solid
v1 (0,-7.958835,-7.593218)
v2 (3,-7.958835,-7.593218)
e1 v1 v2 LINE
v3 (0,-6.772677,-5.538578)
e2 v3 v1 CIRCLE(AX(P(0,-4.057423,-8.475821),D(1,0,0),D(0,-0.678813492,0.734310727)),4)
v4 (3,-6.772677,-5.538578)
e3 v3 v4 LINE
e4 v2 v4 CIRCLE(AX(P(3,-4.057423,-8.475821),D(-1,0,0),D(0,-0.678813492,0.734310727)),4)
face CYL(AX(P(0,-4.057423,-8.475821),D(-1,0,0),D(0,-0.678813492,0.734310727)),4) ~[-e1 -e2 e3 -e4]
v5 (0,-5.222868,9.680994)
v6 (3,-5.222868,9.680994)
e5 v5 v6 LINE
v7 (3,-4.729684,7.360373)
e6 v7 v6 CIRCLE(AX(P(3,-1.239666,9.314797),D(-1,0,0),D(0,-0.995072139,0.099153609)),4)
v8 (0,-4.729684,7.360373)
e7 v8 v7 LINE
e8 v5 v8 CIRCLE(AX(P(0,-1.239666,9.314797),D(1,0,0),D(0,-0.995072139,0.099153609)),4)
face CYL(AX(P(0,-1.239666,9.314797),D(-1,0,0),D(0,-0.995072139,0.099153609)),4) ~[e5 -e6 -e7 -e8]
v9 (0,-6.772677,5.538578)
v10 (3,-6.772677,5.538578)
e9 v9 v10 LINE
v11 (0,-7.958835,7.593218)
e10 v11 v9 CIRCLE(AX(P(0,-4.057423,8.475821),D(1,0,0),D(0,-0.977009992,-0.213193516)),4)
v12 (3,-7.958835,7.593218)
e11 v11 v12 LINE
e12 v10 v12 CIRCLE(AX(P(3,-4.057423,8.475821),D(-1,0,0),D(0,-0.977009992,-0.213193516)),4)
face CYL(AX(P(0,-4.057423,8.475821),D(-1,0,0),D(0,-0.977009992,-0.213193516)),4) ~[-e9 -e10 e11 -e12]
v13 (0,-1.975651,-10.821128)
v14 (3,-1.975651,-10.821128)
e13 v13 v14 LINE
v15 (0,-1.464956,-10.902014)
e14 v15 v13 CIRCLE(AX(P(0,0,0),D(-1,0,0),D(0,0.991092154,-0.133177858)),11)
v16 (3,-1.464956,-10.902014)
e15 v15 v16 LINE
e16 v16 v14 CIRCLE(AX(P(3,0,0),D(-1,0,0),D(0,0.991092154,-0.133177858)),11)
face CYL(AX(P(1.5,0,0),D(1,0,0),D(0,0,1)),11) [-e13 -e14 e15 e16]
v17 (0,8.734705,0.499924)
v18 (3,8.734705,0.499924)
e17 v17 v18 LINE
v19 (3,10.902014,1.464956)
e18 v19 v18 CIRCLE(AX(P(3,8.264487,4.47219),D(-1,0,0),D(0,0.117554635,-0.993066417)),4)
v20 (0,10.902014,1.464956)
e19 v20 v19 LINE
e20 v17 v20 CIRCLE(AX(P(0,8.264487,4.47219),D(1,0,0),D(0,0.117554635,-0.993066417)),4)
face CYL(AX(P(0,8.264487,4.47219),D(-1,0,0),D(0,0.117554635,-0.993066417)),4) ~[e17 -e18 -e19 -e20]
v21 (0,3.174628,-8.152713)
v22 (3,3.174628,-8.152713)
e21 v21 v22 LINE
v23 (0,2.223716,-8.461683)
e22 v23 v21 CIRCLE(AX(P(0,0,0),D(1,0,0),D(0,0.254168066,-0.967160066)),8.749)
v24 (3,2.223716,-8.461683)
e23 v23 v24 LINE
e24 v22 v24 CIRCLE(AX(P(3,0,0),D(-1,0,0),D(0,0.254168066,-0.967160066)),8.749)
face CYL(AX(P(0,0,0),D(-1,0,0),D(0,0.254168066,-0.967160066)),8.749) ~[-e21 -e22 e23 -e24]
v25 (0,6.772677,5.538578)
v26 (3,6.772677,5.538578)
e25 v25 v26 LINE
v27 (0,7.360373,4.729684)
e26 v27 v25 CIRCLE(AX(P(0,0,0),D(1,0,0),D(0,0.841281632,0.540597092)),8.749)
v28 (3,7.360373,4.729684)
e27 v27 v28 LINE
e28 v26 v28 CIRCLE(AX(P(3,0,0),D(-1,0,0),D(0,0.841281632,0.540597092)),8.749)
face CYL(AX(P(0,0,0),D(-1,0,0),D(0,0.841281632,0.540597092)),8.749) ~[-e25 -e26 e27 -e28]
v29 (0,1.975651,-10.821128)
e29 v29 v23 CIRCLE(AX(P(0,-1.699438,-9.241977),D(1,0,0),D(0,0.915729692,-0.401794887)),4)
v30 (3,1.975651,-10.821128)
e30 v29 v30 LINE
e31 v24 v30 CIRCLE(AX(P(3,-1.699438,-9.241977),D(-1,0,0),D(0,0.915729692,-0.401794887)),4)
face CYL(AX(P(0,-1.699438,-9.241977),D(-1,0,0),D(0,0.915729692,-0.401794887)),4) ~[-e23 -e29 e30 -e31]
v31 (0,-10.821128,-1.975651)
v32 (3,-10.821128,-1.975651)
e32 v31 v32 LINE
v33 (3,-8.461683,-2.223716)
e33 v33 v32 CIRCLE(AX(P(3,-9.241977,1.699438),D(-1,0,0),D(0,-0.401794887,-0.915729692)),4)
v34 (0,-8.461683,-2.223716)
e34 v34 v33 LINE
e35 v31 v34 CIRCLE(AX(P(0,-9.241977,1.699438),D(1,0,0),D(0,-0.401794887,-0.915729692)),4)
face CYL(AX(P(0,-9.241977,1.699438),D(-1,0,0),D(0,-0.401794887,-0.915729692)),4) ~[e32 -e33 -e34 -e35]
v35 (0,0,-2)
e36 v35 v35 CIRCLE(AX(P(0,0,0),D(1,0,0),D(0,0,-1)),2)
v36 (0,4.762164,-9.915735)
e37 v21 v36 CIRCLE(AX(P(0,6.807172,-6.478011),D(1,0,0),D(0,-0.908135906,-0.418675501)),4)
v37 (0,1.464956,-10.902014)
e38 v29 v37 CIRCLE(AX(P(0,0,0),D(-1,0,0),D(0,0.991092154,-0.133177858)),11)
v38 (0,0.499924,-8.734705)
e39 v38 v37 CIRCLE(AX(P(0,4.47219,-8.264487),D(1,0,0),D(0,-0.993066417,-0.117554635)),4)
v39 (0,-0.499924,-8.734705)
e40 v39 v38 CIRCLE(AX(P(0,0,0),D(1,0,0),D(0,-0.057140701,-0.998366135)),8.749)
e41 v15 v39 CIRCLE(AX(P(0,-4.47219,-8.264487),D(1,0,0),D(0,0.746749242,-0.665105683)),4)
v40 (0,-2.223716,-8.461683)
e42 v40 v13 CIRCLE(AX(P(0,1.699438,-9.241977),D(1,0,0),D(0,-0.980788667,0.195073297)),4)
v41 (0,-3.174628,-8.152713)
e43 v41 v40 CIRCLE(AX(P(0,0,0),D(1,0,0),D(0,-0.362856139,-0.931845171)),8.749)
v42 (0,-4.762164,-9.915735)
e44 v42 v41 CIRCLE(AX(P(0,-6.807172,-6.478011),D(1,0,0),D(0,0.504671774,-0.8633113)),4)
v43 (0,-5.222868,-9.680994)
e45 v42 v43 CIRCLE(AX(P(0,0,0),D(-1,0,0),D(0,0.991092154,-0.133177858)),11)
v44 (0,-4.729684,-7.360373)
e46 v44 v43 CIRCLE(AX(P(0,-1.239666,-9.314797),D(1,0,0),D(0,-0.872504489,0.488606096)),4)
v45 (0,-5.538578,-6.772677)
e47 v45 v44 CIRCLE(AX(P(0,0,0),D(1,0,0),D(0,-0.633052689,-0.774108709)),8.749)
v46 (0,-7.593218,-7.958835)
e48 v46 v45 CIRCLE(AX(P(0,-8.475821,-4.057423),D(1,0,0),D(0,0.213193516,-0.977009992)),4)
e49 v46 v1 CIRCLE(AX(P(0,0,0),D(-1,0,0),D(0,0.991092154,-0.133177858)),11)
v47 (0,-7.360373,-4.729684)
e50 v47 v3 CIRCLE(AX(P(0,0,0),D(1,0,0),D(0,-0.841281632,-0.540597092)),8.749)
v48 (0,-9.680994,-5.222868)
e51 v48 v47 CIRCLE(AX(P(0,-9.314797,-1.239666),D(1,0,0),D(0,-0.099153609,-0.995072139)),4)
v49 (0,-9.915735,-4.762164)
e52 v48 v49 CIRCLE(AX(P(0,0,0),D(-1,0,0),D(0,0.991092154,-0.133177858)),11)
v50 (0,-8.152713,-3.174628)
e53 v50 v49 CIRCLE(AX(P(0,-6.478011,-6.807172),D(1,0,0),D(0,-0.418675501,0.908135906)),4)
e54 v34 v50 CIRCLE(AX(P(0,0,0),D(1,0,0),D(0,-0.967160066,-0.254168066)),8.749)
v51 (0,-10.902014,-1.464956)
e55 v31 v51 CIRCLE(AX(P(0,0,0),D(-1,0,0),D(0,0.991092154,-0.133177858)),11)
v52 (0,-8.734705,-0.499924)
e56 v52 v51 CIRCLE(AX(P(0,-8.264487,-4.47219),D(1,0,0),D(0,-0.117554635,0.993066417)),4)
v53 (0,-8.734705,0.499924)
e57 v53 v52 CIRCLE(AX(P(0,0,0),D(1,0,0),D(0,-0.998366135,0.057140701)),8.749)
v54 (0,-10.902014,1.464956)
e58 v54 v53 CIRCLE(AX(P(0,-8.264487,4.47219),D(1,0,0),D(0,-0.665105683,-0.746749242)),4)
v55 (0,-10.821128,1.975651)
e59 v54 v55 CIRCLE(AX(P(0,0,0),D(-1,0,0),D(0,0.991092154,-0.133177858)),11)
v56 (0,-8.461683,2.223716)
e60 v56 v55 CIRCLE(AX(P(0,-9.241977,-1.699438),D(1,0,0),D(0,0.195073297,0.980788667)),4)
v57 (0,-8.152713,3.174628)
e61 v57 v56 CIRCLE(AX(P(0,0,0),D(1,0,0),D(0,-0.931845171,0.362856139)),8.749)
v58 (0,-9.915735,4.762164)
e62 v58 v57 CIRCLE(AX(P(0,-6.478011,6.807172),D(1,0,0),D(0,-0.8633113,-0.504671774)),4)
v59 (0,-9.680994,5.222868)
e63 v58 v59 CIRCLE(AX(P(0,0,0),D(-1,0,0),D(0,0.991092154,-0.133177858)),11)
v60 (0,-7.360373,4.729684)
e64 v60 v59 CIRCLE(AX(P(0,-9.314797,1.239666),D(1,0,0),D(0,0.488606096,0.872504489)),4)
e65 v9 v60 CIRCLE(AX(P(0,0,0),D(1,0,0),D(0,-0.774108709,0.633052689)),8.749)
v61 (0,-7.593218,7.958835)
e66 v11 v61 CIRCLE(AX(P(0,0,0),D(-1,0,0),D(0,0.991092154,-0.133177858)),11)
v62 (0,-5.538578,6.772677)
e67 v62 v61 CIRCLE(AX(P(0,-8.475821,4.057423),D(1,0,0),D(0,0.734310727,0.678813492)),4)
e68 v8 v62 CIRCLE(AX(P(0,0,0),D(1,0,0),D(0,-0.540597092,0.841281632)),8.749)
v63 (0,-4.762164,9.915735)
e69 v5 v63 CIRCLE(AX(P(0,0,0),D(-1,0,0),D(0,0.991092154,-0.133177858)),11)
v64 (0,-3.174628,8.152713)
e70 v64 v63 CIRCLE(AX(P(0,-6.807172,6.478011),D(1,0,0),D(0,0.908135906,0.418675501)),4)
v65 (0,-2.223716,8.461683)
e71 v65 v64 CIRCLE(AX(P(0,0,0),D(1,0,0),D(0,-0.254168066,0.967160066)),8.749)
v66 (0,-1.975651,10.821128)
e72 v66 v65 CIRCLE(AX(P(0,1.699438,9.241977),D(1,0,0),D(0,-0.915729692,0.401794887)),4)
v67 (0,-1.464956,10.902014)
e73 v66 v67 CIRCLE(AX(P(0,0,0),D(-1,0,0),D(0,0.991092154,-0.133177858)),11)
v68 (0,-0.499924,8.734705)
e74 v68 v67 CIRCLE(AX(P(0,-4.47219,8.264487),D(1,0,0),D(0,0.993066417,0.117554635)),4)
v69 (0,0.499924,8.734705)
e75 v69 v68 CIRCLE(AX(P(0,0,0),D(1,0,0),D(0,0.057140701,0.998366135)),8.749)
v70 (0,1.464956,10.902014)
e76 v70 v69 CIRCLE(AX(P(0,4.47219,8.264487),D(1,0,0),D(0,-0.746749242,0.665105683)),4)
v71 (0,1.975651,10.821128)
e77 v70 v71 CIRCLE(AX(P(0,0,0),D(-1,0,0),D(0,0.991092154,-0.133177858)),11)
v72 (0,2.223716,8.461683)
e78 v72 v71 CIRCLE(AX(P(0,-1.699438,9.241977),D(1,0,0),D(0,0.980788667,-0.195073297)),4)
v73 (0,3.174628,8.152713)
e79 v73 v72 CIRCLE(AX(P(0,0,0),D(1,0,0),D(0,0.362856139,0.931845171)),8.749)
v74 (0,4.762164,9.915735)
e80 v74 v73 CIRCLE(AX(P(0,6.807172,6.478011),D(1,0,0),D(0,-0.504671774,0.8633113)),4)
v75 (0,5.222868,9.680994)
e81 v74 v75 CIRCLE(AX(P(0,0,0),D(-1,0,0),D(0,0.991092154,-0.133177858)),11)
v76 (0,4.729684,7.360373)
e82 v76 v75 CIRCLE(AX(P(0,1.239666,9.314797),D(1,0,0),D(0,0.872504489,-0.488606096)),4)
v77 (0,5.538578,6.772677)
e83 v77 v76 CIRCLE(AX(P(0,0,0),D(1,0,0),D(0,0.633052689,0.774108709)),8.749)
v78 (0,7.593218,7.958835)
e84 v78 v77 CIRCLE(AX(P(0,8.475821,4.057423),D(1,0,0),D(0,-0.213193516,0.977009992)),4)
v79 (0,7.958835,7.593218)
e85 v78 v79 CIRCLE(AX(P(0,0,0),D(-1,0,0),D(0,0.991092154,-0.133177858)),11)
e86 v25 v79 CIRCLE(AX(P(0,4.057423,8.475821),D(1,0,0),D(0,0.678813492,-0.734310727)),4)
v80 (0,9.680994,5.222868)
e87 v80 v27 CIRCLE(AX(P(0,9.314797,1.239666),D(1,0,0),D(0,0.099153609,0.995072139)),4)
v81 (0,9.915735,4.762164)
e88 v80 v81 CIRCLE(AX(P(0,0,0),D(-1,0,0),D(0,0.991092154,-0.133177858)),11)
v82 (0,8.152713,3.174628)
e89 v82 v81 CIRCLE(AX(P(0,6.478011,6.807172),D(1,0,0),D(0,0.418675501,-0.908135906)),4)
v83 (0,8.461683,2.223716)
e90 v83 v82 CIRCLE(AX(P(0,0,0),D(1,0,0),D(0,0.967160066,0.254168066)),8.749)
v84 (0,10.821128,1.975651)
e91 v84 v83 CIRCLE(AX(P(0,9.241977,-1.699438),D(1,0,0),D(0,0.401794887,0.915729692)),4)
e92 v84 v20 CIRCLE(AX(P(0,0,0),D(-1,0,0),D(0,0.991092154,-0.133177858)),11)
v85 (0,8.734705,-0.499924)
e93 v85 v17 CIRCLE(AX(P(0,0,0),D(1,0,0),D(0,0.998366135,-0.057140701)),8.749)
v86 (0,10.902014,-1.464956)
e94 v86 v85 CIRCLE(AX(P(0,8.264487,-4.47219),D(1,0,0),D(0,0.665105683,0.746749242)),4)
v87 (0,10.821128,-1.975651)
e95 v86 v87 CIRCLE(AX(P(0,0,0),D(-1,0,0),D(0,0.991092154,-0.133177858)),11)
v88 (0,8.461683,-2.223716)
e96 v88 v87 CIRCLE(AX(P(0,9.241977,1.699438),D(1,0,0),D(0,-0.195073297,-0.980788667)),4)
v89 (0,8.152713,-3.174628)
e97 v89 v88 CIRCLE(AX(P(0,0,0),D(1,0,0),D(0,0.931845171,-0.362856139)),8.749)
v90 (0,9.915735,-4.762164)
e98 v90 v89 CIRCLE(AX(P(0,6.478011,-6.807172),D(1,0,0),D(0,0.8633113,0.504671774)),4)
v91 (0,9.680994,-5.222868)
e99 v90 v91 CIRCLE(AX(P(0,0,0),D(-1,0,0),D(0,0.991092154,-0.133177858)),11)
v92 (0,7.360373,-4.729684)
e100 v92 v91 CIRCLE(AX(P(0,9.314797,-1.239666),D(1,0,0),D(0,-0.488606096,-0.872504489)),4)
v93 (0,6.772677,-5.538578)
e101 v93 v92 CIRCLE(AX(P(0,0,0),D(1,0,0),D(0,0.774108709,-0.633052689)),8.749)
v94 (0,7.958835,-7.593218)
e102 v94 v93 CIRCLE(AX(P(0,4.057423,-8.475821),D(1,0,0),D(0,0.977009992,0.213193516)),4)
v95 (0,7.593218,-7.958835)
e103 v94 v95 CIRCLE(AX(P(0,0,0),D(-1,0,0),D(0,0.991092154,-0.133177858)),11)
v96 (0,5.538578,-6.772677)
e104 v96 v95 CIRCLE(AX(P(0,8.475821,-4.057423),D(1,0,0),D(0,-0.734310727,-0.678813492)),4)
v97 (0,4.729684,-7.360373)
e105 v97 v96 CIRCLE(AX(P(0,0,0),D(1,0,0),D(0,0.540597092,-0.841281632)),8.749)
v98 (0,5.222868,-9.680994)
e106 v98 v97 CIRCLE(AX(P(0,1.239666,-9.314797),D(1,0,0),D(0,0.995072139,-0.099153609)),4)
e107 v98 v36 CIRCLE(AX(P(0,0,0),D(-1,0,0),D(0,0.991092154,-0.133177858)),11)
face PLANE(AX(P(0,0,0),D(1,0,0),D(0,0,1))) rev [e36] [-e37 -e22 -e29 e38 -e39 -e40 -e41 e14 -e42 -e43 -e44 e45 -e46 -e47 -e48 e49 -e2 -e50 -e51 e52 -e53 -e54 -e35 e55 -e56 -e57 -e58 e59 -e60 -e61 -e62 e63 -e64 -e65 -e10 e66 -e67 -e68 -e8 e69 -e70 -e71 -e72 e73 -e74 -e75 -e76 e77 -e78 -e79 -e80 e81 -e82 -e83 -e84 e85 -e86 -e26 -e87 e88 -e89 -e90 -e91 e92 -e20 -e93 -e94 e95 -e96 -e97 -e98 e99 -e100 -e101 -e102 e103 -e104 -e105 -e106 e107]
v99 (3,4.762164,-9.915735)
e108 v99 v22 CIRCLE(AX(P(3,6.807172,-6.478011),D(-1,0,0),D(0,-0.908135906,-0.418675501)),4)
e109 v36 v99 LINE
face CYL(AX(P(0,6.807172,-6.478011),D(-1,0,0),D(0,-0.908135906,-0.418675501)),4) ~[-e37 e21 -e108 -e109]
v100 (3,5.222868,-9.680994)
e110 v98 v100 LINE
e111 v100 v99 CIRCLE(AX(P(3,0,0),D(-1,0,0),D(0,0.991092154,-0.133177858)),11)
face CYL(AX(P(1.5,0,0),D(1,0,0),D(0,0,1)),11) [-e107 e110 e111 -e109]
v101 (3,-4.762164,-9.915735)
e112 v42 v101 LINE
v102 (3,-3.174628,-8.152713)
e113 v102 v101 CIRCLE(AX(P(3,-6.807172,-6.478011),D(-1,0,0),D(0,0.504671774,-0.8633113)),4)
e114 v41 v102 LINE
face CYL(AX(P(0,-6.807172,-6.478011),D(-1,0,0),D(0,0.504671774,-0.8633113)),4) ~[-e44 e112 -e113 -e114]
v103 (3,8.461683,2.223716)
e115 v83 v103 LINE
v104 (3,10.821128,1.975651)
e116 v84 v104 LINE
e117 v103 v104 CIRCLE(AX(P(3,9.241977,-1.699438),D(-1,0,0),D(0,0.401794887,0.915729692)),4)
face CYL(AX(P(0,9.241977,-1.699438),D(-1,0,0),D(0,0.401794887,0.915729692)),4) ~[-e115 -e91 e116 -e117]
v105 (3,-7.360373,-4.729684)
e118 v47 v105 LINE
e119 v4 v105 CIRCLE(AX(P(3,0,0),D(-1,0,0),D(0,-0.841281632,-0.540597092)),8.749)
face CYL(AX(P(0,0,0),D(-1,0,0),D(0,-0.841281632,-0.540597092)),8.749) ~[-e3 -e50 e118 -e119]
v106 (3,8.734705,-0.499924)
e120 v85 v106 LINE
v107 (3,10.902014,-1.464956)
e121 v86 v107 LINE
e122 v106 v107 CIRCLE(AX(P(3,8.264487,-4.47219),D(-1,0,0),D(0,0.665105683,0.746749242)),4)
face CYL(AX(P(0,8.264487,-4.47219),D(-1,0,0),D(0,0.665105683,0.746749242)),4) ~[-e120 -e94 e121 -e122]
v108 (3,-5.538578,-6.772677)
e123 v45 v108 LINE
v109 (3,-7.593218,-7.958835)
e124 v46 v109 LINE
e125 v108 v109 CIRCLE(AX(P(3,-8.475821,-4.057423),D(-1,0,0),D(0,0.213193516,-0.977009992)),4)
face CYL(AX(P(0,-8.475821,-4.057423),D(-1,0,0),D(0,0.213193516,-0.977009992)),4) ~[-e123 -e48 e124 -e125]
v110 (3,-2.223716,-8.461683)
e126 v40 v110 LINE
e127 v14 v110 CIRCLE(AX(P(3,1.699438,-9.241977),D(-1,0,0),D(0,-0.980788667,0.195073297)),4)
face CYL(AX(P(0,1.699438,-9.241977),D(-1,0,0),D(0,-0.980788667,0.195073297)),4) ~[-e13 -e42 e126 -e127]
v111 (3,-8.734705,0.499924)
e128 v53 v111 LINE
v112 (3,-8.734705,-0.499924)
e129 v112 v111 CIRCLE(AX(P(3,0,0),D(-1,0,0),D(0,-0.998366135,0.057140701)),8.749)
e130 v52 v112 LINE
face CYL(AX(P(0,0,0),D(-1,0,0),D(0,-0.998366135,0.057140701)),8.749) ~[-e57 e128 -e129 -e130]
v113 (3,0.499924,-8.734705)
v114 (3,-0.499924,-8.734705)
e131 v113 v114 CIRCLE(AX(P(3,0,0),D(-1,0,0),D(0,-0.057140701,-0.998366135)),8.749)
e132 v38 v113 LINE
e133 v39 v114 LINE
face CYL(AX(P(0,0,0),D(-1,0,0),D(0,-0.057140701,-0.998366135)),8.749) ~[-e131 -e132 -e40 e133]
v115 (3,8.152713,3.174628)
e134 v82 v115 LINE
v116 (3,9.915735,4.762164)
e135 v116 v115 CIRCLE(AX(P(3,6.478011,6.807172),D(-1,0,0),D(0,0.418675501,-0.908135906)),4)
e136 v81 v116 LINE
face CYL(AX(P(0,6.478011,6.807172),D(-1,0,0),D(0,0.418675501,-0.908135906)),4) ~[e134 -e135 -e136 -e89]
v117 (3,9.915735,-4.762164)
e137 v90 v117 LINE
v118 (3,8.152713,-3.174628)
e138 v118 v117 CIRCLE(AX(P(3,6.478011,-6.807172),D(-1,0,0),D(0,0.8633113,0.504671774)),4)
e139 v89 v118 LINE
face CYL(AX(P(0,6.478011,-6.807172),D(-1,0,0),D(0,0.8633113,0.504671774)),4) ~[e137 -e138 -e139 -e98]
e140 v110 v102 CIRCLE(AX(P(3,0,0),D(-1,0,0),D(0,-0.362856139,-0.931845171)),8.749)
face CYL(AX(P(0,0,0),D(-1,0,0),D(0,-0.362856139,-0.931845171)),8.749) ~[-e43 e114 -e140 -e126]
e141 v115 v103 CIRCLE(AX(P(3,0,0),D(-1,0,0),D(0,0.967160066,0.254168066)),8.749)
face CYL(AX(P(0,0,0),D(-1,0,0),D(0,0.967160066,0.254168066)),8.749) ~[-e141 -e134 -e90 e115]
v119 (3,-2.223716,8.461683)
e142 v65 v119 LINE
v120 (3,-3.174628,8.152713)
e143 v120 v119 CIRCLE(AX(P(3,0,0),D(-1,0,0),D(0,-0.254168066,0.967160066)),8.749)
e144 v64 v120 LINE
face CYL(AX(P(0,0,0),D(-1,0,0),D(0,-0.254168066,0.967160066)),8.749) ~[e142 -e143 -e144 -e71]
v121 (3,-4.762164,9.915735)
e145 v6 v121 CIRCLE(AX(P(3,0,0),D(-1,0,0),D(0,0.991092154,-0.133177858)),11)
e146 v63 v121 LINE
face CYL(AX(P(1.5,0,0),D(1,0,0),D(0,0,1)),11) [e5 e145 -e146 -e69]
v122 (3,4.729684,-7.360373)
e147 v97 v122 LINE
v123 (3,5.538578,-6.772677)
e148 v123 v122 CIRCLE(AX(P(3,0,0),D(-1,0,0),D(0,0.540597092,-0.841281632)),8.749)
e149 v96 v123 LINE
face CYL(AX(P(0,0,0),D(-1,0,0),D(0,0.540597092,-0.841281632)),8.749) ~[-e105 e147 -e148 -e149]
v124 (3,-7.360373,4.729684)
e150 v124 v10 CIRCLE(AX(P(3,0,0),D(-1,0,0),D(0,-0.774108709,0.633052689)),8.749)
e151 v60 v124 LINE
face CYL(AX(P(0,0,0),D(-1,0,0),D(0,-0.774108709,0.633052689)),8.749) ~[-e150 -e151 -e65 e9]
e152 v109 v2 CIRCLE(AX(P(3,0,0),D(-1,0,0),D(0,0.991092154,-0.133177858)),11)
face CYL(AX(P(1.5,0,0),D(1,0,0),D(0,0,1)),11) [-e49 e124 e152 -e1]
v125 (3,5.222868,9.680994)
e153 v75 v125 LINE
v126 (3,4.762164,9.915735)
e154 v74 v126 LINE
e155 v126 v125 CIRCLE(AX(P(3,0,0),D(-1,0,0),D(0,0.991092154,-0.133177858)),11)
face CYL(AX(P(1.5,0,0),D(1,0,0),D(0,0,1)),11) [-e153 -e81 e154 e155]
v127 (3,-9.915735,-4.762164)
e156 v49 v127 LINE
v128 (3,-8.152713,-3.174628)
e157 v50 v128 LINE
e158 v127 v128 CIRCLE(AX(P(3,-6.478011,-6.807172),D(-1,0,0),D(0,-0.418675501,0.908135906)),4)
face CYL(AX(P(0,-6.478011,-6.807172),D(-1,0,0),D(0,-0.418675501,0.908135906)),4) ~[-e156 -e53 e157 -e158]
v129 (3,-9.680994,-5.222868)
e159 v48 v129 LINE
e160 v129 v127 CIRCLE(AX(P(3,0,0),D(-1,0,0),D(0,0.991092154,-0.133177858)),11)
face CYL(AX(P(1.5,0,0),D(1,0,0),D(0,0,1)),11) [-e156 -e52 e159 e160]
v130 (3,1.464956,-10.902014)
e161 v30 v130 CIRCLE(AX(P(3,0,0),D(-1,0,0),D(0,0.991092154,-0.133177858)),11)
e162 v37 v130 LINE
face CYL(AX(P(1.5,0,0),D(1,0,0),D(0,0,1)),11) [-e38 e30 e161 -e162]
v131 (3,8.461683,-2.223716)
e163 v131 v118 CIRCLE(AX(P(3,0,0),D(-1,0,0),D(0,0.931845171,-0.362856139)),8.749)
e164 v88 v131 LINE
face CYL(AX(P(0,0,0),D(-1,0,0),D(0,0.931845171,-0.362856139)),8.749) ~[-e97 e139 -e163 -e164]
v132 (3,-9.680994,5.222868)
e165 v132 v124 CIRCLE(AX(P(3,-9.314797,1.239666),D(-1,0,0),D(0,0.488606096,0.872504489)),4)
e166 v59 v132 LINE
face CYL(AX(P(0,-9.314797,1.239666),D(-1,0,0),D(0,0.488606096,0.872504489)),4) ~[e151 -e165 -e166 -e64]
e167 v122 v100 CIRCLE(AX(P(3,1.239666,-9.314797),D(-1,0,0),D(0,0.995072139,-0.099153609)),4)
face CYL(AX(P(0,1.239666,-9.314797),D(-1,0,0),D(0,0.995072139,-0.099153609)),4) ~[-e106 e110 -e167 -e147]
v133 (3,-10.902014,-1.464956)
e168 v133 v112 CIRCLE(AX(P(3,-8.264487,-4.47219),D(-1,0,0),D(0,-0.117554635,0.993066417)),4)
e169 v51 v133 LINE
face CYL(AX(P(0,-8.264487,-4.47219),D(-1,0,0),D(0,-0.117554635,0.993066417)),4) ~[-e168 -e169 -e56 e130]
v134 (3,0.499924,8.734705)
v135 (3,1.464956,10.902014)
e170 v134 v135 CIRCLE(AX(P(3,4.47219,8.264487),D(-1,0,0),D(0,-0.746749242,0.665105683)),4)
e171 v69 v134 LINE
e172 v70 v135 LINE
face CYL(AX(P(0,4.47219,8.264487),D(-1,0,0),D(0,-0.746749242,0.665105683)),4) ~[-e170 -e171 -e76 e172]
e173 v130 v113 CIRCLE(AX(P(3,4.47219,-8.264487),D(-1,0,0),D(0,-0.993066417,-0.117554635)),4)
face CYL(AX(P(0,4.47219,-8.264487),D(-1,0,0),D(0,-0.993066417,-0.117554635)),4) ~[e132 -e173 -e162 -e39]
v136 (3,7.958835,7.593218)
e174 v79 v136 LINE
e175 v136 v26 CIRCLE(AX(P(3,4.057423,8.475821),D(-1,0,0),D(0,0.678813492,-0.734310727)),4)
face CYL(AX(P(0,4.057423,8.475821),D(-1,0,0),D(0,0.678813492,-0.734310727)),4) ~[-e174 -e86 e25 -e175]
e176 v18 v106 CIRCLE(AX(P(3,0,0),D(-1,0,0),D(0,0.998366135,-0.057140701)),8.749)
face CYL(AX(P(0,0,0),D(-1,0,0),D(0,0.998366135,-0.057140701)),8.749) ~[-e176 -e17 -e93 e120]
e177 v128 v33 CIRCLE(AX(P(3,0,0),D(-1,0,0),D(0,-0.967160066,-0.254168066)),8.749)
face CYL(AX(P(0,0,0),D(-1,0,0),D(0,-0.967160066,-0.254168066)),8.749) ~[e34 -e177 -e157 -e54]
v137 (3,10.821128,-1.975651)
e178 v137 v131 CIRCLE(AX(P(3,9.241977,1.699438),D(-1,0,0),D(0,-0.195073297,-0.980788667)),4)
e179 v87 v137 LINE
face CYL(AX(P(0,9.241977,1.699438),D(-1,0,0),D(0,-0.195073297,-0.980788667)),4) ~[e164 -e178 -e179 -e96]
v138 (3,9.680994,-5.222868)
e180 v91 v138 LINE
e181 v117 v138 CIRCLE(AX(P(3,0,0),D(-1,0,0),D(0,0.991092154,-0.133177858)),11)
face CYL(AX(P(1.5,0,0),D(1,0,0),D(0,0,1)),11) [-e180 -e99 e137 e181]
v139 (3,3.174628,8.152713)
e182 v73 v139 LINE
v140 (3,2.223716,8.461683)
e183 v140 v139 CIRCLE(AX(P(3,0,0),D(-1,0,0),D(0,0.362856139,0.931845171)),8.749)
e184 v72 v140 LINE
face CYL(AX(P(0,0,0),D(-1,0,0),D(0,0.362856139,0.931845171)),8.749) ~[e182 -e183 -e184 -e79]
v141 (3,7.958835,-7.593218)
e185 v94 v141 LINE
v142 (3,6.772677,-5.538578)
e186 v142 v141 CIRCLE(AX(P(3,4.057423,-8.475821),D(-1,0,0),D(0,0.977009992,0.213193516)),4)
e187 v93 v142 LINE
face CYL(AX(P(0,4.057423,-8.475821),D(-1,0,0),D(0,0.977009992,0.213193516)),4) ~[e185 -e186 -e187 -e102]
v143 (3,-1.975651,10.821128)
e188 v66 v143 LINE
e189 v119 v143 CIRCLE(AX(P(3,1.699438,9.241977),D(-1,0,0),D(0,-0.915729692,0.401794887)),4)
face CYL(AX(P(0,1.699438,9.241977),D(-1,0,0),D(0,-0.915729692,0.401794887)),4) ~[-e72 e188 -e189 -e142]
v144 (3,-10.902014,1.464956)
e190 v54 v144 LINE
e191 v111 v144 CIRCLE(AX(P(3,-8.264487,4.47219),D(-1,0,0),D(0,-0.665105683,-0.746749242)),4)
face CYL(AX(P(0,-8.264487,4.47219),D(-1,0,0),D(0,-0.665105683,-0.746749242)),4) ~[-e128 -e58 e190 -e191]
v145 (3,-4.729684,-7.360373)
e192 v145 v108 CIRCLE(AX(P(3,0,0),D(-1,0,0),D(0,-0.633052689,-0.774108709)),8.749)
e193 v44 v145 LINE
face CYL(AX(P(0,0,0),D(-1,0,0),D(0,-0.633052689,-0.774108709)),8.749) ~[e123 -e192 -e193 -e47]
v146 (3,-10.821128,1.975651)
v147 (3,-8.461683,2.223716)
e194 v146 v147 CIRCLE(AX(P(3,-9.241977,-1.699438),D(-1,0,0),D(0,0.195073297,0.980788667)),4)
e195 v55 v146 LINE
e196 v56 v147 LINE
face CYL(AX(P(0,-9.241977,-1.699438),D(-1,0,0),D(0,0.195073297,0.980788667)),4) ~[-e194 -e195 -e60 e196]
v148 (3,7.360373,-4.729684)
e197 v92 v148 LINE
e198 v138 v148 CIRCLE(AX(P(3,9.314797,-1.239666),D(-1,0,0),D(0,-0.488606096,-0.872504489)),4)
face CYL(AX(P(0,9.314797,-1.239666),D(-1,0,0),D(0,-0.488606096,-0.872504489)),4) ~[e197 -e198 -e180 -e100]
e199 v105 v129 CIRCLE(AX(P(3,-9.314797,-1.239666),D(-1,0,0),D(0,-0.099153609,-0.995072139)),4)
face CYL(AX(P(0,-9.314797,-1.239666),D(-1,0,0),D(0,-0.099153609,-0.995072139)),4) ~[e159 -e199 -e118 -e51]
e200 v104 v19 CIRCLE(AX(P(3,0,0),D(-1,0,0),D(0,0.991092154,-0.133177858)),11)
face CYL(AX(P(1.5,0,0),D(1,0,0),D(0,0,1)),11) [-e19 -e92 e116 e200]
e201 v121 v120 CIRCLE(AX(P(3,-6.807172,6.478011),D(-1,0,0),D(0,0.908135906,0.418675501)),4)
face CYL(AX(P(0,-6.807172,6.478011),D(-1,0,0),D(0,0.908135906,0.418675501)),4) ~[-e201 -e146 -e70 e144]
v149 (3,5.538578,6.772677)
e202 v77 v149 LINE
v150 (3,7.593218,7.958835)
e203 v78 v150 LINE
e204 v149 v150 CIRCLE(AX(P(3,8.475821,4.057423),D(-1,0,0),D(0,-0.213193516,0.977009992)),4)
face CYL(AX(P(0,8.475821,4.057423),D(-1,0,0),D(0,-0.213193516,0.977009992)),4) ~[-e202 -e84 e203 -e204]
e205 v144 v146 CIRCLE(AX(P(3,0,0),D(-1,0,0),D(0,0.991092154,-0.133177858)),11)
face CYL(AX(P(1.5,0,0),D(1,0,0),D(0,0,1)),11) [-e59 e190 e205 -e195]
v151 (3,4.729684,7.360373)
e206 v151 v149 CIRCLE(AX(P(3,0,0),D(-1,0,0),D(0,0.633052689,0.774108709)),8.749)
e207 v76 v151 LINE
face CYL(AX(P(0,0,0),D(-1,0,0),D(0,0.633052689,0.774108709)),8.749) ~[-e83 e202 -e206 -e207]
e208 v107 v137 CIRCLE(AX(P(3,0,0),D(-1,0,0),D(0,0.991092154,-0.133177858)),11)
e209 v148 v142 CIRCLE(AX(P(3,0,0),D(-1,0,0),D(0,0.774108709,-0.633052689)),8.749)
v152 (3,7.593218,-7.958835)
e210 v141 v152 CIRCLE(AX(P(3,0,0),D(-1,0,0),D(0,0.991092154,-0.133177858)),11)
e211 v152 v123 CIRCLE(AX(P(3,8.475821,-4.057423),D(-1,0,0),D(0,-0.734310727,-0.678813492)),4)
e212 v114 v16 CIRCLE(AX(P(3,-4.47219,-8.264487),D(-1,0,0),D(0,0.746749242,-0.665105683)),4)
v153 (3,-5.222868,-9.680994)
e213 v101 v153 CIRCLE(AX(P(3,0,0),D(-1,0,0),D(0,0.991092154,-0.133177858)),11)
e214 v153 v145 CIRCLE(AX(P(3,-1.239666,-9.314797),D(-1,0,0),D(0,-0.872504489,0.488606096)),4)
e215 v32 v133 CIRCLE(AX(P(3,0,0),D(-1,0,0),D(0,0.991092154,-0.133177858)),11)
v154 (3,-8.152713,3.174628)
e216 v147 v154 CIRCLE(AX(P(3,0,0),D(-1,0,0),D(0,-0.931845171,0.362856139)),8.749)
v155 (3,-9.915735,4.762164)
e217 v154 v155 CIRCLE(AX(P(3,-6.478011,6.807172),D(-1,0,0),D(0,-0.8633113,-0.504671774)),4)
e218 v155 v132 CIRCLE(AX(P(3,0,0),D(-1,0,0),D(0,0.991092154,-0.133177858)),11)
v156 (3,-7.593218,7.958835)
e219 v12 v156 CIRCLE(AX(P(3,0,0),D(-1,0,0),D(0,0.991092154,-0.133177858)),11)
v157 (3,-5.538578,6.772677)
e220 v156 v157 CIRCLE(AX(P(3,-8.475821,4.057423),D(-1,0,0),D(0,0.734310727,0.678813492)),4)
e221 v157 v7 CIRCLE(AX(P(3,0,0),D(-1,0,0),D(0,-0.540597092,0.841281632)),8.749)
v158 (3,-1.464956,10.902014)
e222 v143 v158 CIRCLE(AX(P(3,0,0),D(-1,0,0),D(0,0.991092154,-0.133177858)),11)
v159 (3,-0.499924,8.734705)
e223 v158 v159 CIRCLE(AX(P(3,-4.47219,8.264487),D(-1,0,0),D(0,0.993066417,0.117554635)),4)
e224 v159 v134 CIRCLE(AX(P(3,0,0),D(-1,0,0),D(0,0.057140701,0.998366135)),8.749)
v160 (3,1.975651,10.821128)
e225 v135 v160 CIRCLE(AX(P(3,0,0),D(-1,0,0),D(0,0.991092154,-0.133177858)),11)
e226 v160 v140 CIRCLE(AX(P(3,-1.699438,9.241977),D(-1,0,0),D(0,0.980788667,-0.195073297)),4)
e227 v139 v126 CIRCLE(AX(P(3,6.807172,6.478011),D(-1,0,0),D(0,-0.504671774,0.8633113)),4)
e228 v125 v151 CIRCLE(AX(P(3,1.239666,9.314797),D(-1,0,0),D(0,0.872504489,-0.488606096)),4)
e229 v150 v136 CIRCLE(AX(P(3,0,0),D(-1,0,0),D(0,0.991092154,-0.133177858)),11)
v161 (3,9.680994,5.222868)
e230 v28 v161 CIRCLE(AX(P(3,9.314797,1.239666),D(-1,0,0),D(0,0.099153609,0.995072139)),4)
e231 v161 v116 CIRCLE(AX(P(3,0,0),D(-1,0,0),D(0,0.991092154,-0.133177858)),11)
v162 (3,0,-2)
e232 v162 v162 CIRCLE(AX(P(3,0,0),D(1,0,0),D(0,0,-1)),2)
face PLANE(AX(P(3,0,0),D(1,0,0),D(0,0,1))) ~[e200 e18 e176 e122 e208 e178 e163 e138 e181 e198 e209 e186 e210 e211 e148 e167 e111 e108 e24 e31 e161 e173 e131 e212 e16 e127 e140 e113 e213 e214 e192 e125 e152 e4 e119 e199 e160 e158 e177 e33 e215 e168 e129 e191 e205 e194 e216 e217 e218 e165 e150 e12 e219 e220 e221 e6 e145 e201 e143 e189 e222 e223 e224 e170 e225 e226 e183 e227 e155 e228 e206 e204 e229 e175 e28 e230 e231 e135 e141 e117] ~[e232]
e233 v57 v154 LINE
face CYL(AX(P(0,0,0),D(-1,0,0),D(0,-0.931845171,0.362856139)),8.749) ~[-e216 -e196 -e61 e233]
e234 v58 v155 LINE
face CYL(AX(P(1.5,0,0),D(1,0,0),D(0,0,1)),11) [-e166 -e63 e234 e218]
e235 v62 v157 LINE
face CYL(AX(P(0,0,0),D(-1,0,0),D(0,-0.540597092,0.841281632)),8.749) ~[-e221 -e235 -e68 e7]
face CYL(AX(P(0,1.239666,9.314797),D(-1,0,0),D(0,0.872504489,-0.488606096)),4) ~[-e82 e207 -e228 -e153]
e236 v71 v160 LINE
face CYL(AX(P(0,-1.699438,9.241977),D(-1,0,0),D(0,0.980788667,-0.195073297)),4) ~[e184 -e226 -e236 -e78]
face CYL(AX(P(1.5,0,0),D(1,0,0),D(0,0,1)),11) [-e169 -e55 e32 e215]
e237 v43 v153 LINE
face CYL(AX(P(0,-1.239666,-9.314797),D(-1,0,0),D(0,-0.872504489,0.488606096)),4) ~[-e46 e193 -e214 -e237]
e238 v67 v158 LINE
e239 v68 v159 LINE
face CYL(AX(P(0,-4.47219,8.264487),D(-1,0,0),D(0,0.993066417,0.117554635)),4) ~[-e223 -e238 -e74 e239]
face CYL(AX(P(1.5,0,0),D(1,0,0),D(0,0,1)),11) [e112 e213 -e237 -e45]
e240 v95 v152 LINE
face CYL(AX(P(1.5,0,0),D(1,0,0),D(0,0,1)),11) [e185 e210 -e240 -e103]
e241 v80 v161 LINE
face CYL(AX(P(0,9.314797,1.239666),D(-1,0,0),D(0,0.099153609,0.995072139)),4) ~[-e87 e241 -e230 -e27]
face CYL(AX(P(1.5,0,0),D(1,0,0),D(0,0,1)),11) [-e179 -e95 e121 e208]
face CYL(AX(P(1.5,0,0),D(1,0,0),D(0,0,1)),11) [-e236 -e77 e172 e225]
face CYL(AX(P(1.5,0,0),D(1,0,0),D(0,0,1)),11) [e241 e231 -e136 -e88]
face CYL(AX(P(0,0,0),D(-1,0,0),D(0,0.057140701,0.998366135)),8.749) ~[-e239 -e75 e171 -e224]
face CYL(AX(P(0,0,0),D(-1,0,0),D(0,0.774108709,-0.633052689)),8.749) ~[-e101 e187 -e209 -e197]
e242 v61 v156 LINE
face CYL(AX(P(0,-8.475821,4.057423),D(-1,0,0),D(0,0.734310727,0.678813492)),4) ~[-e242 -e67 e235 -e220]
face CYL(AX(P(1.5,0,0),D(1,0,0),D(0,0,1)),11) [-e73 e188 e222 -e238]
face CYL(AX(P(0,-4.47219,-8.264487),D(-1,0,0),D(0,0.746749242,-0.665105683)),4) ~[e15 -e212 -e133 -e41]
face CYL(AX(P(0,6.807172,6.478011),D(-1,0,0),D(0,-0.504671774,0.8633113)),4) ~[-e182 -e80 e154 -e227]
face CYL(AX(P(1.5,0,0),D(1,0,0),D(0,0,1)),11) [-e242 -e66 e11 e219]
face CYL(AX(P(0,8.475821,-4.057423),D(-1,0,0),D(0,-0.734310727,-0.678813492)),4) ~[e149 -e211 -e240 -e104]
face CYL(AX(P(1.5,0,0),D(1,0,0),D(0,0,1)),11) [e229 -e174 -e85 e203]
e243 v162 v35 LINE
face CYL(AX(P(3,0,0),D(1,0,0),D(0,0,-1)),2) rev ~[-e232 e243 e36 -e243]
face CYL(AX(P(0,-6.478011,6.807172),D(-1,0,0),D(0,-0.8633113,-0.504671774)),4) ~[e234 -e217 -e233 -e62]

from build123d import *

# Parameters (mm, degrees)
BASPROSKE_W        = 3
BASPROSKE_H        = 11
TOOTHCUT_DEPTH     = 16.842979518
TEETHCUTS_COUNT    = 20
TEETHCUTS_ANGLE    = 342
BORSKE_R           = 1.5
BORE_DEPTH         = 50.0000508
SKETCH1_R          = 2
CUT_EXTRUDE1_DEPTH = 16.706934942


with BuildPart() as part:
    # BasProSke → Base-Revolve (revolve)
    with BuildSketch(Plane(origin=(0, 0, 0), x_dir=(1, 0, 0), z_dir=(0, 1, 0)), mode=Mode.PRIVATE) as base_revolve_sk:
        with Locations((1.5, 5.5)):
            Rectangle(BASPROSKE_W, BASPROSKE_H)
    revolve(base_revolve_sk.sketch.rotate(Axis((-10, 0, 0), (1, 0, 0)), 180), axis=Axis((-10, 0, 0), (1, 0, 0)))

    # TooCutSke → ToothCut (cut, through all)
    with BuildSketch(Plane(origin=(0, 0, 0), x_dir=(0, 0, -1), z_dir=(1, 0, 0))):
        with BuildLine():
            ThreePointArc((0.499924007, 8.734705318), (0, 8.749), (-0.499924007, 8.734705318))
            ThreePointArc((-0.499924007, 8.734705318), (-0.824302243, 9.905497836), (-1.485192705, 10.924909509))
            ThreePointArc((-1.485192705, 10.924909509), (0, 11.0254), (1.485192705, 10.924909509))
            ThreePointArc((1.485192705, 10.924909509), (0.824302243, 9.905497836), (0.499924007, 8.734705318))
        make_face()
    toothcut = extrude(amount=TOOTHCUT_DEPTH, mode=Mode.SUBTRACT)

    # TeethCuts: ToothCut ×20 about axis
    teethcuts_axis = Axis((-10, 0, 0), (1, 0, 0))
    for i in range(1, TEETHCUTS_COUNT):
        add(toothcut.rotate(teethcuts_axis, i * TEETHCUTS_ANGLE / (TEETHCUTS_COUNT - 1)), mode=Mode.SUBTRACT)

    # BorSke → Bore (cut, symmetric)
    with BuildSketch(Plane(origin=(0, 0, 0), x_dir=(0, 0, -1), z_dir=(1, 0, 0))):
        with Locations(Location((0, 0, 0), (0, 0, 180))):
            Circle(BORSKE_R)
    extrude(amount=BORE_DEPTH, both=True, mode=Mode.SUBTRACT)

    # Sketch1 → Cut-Extrude1 (cut, through all)
    with BuildSketch(Plane(origin=(3, 0, 0), x_dir=(0, 0, -1), z_dir=(1, 0, 0))):
        Circle(SKETCH1_R)
    extrude(amount=-CUT_EXTRUDE1_DEPTH, mode=Mode.SUBTRACT)


solid = part.part
